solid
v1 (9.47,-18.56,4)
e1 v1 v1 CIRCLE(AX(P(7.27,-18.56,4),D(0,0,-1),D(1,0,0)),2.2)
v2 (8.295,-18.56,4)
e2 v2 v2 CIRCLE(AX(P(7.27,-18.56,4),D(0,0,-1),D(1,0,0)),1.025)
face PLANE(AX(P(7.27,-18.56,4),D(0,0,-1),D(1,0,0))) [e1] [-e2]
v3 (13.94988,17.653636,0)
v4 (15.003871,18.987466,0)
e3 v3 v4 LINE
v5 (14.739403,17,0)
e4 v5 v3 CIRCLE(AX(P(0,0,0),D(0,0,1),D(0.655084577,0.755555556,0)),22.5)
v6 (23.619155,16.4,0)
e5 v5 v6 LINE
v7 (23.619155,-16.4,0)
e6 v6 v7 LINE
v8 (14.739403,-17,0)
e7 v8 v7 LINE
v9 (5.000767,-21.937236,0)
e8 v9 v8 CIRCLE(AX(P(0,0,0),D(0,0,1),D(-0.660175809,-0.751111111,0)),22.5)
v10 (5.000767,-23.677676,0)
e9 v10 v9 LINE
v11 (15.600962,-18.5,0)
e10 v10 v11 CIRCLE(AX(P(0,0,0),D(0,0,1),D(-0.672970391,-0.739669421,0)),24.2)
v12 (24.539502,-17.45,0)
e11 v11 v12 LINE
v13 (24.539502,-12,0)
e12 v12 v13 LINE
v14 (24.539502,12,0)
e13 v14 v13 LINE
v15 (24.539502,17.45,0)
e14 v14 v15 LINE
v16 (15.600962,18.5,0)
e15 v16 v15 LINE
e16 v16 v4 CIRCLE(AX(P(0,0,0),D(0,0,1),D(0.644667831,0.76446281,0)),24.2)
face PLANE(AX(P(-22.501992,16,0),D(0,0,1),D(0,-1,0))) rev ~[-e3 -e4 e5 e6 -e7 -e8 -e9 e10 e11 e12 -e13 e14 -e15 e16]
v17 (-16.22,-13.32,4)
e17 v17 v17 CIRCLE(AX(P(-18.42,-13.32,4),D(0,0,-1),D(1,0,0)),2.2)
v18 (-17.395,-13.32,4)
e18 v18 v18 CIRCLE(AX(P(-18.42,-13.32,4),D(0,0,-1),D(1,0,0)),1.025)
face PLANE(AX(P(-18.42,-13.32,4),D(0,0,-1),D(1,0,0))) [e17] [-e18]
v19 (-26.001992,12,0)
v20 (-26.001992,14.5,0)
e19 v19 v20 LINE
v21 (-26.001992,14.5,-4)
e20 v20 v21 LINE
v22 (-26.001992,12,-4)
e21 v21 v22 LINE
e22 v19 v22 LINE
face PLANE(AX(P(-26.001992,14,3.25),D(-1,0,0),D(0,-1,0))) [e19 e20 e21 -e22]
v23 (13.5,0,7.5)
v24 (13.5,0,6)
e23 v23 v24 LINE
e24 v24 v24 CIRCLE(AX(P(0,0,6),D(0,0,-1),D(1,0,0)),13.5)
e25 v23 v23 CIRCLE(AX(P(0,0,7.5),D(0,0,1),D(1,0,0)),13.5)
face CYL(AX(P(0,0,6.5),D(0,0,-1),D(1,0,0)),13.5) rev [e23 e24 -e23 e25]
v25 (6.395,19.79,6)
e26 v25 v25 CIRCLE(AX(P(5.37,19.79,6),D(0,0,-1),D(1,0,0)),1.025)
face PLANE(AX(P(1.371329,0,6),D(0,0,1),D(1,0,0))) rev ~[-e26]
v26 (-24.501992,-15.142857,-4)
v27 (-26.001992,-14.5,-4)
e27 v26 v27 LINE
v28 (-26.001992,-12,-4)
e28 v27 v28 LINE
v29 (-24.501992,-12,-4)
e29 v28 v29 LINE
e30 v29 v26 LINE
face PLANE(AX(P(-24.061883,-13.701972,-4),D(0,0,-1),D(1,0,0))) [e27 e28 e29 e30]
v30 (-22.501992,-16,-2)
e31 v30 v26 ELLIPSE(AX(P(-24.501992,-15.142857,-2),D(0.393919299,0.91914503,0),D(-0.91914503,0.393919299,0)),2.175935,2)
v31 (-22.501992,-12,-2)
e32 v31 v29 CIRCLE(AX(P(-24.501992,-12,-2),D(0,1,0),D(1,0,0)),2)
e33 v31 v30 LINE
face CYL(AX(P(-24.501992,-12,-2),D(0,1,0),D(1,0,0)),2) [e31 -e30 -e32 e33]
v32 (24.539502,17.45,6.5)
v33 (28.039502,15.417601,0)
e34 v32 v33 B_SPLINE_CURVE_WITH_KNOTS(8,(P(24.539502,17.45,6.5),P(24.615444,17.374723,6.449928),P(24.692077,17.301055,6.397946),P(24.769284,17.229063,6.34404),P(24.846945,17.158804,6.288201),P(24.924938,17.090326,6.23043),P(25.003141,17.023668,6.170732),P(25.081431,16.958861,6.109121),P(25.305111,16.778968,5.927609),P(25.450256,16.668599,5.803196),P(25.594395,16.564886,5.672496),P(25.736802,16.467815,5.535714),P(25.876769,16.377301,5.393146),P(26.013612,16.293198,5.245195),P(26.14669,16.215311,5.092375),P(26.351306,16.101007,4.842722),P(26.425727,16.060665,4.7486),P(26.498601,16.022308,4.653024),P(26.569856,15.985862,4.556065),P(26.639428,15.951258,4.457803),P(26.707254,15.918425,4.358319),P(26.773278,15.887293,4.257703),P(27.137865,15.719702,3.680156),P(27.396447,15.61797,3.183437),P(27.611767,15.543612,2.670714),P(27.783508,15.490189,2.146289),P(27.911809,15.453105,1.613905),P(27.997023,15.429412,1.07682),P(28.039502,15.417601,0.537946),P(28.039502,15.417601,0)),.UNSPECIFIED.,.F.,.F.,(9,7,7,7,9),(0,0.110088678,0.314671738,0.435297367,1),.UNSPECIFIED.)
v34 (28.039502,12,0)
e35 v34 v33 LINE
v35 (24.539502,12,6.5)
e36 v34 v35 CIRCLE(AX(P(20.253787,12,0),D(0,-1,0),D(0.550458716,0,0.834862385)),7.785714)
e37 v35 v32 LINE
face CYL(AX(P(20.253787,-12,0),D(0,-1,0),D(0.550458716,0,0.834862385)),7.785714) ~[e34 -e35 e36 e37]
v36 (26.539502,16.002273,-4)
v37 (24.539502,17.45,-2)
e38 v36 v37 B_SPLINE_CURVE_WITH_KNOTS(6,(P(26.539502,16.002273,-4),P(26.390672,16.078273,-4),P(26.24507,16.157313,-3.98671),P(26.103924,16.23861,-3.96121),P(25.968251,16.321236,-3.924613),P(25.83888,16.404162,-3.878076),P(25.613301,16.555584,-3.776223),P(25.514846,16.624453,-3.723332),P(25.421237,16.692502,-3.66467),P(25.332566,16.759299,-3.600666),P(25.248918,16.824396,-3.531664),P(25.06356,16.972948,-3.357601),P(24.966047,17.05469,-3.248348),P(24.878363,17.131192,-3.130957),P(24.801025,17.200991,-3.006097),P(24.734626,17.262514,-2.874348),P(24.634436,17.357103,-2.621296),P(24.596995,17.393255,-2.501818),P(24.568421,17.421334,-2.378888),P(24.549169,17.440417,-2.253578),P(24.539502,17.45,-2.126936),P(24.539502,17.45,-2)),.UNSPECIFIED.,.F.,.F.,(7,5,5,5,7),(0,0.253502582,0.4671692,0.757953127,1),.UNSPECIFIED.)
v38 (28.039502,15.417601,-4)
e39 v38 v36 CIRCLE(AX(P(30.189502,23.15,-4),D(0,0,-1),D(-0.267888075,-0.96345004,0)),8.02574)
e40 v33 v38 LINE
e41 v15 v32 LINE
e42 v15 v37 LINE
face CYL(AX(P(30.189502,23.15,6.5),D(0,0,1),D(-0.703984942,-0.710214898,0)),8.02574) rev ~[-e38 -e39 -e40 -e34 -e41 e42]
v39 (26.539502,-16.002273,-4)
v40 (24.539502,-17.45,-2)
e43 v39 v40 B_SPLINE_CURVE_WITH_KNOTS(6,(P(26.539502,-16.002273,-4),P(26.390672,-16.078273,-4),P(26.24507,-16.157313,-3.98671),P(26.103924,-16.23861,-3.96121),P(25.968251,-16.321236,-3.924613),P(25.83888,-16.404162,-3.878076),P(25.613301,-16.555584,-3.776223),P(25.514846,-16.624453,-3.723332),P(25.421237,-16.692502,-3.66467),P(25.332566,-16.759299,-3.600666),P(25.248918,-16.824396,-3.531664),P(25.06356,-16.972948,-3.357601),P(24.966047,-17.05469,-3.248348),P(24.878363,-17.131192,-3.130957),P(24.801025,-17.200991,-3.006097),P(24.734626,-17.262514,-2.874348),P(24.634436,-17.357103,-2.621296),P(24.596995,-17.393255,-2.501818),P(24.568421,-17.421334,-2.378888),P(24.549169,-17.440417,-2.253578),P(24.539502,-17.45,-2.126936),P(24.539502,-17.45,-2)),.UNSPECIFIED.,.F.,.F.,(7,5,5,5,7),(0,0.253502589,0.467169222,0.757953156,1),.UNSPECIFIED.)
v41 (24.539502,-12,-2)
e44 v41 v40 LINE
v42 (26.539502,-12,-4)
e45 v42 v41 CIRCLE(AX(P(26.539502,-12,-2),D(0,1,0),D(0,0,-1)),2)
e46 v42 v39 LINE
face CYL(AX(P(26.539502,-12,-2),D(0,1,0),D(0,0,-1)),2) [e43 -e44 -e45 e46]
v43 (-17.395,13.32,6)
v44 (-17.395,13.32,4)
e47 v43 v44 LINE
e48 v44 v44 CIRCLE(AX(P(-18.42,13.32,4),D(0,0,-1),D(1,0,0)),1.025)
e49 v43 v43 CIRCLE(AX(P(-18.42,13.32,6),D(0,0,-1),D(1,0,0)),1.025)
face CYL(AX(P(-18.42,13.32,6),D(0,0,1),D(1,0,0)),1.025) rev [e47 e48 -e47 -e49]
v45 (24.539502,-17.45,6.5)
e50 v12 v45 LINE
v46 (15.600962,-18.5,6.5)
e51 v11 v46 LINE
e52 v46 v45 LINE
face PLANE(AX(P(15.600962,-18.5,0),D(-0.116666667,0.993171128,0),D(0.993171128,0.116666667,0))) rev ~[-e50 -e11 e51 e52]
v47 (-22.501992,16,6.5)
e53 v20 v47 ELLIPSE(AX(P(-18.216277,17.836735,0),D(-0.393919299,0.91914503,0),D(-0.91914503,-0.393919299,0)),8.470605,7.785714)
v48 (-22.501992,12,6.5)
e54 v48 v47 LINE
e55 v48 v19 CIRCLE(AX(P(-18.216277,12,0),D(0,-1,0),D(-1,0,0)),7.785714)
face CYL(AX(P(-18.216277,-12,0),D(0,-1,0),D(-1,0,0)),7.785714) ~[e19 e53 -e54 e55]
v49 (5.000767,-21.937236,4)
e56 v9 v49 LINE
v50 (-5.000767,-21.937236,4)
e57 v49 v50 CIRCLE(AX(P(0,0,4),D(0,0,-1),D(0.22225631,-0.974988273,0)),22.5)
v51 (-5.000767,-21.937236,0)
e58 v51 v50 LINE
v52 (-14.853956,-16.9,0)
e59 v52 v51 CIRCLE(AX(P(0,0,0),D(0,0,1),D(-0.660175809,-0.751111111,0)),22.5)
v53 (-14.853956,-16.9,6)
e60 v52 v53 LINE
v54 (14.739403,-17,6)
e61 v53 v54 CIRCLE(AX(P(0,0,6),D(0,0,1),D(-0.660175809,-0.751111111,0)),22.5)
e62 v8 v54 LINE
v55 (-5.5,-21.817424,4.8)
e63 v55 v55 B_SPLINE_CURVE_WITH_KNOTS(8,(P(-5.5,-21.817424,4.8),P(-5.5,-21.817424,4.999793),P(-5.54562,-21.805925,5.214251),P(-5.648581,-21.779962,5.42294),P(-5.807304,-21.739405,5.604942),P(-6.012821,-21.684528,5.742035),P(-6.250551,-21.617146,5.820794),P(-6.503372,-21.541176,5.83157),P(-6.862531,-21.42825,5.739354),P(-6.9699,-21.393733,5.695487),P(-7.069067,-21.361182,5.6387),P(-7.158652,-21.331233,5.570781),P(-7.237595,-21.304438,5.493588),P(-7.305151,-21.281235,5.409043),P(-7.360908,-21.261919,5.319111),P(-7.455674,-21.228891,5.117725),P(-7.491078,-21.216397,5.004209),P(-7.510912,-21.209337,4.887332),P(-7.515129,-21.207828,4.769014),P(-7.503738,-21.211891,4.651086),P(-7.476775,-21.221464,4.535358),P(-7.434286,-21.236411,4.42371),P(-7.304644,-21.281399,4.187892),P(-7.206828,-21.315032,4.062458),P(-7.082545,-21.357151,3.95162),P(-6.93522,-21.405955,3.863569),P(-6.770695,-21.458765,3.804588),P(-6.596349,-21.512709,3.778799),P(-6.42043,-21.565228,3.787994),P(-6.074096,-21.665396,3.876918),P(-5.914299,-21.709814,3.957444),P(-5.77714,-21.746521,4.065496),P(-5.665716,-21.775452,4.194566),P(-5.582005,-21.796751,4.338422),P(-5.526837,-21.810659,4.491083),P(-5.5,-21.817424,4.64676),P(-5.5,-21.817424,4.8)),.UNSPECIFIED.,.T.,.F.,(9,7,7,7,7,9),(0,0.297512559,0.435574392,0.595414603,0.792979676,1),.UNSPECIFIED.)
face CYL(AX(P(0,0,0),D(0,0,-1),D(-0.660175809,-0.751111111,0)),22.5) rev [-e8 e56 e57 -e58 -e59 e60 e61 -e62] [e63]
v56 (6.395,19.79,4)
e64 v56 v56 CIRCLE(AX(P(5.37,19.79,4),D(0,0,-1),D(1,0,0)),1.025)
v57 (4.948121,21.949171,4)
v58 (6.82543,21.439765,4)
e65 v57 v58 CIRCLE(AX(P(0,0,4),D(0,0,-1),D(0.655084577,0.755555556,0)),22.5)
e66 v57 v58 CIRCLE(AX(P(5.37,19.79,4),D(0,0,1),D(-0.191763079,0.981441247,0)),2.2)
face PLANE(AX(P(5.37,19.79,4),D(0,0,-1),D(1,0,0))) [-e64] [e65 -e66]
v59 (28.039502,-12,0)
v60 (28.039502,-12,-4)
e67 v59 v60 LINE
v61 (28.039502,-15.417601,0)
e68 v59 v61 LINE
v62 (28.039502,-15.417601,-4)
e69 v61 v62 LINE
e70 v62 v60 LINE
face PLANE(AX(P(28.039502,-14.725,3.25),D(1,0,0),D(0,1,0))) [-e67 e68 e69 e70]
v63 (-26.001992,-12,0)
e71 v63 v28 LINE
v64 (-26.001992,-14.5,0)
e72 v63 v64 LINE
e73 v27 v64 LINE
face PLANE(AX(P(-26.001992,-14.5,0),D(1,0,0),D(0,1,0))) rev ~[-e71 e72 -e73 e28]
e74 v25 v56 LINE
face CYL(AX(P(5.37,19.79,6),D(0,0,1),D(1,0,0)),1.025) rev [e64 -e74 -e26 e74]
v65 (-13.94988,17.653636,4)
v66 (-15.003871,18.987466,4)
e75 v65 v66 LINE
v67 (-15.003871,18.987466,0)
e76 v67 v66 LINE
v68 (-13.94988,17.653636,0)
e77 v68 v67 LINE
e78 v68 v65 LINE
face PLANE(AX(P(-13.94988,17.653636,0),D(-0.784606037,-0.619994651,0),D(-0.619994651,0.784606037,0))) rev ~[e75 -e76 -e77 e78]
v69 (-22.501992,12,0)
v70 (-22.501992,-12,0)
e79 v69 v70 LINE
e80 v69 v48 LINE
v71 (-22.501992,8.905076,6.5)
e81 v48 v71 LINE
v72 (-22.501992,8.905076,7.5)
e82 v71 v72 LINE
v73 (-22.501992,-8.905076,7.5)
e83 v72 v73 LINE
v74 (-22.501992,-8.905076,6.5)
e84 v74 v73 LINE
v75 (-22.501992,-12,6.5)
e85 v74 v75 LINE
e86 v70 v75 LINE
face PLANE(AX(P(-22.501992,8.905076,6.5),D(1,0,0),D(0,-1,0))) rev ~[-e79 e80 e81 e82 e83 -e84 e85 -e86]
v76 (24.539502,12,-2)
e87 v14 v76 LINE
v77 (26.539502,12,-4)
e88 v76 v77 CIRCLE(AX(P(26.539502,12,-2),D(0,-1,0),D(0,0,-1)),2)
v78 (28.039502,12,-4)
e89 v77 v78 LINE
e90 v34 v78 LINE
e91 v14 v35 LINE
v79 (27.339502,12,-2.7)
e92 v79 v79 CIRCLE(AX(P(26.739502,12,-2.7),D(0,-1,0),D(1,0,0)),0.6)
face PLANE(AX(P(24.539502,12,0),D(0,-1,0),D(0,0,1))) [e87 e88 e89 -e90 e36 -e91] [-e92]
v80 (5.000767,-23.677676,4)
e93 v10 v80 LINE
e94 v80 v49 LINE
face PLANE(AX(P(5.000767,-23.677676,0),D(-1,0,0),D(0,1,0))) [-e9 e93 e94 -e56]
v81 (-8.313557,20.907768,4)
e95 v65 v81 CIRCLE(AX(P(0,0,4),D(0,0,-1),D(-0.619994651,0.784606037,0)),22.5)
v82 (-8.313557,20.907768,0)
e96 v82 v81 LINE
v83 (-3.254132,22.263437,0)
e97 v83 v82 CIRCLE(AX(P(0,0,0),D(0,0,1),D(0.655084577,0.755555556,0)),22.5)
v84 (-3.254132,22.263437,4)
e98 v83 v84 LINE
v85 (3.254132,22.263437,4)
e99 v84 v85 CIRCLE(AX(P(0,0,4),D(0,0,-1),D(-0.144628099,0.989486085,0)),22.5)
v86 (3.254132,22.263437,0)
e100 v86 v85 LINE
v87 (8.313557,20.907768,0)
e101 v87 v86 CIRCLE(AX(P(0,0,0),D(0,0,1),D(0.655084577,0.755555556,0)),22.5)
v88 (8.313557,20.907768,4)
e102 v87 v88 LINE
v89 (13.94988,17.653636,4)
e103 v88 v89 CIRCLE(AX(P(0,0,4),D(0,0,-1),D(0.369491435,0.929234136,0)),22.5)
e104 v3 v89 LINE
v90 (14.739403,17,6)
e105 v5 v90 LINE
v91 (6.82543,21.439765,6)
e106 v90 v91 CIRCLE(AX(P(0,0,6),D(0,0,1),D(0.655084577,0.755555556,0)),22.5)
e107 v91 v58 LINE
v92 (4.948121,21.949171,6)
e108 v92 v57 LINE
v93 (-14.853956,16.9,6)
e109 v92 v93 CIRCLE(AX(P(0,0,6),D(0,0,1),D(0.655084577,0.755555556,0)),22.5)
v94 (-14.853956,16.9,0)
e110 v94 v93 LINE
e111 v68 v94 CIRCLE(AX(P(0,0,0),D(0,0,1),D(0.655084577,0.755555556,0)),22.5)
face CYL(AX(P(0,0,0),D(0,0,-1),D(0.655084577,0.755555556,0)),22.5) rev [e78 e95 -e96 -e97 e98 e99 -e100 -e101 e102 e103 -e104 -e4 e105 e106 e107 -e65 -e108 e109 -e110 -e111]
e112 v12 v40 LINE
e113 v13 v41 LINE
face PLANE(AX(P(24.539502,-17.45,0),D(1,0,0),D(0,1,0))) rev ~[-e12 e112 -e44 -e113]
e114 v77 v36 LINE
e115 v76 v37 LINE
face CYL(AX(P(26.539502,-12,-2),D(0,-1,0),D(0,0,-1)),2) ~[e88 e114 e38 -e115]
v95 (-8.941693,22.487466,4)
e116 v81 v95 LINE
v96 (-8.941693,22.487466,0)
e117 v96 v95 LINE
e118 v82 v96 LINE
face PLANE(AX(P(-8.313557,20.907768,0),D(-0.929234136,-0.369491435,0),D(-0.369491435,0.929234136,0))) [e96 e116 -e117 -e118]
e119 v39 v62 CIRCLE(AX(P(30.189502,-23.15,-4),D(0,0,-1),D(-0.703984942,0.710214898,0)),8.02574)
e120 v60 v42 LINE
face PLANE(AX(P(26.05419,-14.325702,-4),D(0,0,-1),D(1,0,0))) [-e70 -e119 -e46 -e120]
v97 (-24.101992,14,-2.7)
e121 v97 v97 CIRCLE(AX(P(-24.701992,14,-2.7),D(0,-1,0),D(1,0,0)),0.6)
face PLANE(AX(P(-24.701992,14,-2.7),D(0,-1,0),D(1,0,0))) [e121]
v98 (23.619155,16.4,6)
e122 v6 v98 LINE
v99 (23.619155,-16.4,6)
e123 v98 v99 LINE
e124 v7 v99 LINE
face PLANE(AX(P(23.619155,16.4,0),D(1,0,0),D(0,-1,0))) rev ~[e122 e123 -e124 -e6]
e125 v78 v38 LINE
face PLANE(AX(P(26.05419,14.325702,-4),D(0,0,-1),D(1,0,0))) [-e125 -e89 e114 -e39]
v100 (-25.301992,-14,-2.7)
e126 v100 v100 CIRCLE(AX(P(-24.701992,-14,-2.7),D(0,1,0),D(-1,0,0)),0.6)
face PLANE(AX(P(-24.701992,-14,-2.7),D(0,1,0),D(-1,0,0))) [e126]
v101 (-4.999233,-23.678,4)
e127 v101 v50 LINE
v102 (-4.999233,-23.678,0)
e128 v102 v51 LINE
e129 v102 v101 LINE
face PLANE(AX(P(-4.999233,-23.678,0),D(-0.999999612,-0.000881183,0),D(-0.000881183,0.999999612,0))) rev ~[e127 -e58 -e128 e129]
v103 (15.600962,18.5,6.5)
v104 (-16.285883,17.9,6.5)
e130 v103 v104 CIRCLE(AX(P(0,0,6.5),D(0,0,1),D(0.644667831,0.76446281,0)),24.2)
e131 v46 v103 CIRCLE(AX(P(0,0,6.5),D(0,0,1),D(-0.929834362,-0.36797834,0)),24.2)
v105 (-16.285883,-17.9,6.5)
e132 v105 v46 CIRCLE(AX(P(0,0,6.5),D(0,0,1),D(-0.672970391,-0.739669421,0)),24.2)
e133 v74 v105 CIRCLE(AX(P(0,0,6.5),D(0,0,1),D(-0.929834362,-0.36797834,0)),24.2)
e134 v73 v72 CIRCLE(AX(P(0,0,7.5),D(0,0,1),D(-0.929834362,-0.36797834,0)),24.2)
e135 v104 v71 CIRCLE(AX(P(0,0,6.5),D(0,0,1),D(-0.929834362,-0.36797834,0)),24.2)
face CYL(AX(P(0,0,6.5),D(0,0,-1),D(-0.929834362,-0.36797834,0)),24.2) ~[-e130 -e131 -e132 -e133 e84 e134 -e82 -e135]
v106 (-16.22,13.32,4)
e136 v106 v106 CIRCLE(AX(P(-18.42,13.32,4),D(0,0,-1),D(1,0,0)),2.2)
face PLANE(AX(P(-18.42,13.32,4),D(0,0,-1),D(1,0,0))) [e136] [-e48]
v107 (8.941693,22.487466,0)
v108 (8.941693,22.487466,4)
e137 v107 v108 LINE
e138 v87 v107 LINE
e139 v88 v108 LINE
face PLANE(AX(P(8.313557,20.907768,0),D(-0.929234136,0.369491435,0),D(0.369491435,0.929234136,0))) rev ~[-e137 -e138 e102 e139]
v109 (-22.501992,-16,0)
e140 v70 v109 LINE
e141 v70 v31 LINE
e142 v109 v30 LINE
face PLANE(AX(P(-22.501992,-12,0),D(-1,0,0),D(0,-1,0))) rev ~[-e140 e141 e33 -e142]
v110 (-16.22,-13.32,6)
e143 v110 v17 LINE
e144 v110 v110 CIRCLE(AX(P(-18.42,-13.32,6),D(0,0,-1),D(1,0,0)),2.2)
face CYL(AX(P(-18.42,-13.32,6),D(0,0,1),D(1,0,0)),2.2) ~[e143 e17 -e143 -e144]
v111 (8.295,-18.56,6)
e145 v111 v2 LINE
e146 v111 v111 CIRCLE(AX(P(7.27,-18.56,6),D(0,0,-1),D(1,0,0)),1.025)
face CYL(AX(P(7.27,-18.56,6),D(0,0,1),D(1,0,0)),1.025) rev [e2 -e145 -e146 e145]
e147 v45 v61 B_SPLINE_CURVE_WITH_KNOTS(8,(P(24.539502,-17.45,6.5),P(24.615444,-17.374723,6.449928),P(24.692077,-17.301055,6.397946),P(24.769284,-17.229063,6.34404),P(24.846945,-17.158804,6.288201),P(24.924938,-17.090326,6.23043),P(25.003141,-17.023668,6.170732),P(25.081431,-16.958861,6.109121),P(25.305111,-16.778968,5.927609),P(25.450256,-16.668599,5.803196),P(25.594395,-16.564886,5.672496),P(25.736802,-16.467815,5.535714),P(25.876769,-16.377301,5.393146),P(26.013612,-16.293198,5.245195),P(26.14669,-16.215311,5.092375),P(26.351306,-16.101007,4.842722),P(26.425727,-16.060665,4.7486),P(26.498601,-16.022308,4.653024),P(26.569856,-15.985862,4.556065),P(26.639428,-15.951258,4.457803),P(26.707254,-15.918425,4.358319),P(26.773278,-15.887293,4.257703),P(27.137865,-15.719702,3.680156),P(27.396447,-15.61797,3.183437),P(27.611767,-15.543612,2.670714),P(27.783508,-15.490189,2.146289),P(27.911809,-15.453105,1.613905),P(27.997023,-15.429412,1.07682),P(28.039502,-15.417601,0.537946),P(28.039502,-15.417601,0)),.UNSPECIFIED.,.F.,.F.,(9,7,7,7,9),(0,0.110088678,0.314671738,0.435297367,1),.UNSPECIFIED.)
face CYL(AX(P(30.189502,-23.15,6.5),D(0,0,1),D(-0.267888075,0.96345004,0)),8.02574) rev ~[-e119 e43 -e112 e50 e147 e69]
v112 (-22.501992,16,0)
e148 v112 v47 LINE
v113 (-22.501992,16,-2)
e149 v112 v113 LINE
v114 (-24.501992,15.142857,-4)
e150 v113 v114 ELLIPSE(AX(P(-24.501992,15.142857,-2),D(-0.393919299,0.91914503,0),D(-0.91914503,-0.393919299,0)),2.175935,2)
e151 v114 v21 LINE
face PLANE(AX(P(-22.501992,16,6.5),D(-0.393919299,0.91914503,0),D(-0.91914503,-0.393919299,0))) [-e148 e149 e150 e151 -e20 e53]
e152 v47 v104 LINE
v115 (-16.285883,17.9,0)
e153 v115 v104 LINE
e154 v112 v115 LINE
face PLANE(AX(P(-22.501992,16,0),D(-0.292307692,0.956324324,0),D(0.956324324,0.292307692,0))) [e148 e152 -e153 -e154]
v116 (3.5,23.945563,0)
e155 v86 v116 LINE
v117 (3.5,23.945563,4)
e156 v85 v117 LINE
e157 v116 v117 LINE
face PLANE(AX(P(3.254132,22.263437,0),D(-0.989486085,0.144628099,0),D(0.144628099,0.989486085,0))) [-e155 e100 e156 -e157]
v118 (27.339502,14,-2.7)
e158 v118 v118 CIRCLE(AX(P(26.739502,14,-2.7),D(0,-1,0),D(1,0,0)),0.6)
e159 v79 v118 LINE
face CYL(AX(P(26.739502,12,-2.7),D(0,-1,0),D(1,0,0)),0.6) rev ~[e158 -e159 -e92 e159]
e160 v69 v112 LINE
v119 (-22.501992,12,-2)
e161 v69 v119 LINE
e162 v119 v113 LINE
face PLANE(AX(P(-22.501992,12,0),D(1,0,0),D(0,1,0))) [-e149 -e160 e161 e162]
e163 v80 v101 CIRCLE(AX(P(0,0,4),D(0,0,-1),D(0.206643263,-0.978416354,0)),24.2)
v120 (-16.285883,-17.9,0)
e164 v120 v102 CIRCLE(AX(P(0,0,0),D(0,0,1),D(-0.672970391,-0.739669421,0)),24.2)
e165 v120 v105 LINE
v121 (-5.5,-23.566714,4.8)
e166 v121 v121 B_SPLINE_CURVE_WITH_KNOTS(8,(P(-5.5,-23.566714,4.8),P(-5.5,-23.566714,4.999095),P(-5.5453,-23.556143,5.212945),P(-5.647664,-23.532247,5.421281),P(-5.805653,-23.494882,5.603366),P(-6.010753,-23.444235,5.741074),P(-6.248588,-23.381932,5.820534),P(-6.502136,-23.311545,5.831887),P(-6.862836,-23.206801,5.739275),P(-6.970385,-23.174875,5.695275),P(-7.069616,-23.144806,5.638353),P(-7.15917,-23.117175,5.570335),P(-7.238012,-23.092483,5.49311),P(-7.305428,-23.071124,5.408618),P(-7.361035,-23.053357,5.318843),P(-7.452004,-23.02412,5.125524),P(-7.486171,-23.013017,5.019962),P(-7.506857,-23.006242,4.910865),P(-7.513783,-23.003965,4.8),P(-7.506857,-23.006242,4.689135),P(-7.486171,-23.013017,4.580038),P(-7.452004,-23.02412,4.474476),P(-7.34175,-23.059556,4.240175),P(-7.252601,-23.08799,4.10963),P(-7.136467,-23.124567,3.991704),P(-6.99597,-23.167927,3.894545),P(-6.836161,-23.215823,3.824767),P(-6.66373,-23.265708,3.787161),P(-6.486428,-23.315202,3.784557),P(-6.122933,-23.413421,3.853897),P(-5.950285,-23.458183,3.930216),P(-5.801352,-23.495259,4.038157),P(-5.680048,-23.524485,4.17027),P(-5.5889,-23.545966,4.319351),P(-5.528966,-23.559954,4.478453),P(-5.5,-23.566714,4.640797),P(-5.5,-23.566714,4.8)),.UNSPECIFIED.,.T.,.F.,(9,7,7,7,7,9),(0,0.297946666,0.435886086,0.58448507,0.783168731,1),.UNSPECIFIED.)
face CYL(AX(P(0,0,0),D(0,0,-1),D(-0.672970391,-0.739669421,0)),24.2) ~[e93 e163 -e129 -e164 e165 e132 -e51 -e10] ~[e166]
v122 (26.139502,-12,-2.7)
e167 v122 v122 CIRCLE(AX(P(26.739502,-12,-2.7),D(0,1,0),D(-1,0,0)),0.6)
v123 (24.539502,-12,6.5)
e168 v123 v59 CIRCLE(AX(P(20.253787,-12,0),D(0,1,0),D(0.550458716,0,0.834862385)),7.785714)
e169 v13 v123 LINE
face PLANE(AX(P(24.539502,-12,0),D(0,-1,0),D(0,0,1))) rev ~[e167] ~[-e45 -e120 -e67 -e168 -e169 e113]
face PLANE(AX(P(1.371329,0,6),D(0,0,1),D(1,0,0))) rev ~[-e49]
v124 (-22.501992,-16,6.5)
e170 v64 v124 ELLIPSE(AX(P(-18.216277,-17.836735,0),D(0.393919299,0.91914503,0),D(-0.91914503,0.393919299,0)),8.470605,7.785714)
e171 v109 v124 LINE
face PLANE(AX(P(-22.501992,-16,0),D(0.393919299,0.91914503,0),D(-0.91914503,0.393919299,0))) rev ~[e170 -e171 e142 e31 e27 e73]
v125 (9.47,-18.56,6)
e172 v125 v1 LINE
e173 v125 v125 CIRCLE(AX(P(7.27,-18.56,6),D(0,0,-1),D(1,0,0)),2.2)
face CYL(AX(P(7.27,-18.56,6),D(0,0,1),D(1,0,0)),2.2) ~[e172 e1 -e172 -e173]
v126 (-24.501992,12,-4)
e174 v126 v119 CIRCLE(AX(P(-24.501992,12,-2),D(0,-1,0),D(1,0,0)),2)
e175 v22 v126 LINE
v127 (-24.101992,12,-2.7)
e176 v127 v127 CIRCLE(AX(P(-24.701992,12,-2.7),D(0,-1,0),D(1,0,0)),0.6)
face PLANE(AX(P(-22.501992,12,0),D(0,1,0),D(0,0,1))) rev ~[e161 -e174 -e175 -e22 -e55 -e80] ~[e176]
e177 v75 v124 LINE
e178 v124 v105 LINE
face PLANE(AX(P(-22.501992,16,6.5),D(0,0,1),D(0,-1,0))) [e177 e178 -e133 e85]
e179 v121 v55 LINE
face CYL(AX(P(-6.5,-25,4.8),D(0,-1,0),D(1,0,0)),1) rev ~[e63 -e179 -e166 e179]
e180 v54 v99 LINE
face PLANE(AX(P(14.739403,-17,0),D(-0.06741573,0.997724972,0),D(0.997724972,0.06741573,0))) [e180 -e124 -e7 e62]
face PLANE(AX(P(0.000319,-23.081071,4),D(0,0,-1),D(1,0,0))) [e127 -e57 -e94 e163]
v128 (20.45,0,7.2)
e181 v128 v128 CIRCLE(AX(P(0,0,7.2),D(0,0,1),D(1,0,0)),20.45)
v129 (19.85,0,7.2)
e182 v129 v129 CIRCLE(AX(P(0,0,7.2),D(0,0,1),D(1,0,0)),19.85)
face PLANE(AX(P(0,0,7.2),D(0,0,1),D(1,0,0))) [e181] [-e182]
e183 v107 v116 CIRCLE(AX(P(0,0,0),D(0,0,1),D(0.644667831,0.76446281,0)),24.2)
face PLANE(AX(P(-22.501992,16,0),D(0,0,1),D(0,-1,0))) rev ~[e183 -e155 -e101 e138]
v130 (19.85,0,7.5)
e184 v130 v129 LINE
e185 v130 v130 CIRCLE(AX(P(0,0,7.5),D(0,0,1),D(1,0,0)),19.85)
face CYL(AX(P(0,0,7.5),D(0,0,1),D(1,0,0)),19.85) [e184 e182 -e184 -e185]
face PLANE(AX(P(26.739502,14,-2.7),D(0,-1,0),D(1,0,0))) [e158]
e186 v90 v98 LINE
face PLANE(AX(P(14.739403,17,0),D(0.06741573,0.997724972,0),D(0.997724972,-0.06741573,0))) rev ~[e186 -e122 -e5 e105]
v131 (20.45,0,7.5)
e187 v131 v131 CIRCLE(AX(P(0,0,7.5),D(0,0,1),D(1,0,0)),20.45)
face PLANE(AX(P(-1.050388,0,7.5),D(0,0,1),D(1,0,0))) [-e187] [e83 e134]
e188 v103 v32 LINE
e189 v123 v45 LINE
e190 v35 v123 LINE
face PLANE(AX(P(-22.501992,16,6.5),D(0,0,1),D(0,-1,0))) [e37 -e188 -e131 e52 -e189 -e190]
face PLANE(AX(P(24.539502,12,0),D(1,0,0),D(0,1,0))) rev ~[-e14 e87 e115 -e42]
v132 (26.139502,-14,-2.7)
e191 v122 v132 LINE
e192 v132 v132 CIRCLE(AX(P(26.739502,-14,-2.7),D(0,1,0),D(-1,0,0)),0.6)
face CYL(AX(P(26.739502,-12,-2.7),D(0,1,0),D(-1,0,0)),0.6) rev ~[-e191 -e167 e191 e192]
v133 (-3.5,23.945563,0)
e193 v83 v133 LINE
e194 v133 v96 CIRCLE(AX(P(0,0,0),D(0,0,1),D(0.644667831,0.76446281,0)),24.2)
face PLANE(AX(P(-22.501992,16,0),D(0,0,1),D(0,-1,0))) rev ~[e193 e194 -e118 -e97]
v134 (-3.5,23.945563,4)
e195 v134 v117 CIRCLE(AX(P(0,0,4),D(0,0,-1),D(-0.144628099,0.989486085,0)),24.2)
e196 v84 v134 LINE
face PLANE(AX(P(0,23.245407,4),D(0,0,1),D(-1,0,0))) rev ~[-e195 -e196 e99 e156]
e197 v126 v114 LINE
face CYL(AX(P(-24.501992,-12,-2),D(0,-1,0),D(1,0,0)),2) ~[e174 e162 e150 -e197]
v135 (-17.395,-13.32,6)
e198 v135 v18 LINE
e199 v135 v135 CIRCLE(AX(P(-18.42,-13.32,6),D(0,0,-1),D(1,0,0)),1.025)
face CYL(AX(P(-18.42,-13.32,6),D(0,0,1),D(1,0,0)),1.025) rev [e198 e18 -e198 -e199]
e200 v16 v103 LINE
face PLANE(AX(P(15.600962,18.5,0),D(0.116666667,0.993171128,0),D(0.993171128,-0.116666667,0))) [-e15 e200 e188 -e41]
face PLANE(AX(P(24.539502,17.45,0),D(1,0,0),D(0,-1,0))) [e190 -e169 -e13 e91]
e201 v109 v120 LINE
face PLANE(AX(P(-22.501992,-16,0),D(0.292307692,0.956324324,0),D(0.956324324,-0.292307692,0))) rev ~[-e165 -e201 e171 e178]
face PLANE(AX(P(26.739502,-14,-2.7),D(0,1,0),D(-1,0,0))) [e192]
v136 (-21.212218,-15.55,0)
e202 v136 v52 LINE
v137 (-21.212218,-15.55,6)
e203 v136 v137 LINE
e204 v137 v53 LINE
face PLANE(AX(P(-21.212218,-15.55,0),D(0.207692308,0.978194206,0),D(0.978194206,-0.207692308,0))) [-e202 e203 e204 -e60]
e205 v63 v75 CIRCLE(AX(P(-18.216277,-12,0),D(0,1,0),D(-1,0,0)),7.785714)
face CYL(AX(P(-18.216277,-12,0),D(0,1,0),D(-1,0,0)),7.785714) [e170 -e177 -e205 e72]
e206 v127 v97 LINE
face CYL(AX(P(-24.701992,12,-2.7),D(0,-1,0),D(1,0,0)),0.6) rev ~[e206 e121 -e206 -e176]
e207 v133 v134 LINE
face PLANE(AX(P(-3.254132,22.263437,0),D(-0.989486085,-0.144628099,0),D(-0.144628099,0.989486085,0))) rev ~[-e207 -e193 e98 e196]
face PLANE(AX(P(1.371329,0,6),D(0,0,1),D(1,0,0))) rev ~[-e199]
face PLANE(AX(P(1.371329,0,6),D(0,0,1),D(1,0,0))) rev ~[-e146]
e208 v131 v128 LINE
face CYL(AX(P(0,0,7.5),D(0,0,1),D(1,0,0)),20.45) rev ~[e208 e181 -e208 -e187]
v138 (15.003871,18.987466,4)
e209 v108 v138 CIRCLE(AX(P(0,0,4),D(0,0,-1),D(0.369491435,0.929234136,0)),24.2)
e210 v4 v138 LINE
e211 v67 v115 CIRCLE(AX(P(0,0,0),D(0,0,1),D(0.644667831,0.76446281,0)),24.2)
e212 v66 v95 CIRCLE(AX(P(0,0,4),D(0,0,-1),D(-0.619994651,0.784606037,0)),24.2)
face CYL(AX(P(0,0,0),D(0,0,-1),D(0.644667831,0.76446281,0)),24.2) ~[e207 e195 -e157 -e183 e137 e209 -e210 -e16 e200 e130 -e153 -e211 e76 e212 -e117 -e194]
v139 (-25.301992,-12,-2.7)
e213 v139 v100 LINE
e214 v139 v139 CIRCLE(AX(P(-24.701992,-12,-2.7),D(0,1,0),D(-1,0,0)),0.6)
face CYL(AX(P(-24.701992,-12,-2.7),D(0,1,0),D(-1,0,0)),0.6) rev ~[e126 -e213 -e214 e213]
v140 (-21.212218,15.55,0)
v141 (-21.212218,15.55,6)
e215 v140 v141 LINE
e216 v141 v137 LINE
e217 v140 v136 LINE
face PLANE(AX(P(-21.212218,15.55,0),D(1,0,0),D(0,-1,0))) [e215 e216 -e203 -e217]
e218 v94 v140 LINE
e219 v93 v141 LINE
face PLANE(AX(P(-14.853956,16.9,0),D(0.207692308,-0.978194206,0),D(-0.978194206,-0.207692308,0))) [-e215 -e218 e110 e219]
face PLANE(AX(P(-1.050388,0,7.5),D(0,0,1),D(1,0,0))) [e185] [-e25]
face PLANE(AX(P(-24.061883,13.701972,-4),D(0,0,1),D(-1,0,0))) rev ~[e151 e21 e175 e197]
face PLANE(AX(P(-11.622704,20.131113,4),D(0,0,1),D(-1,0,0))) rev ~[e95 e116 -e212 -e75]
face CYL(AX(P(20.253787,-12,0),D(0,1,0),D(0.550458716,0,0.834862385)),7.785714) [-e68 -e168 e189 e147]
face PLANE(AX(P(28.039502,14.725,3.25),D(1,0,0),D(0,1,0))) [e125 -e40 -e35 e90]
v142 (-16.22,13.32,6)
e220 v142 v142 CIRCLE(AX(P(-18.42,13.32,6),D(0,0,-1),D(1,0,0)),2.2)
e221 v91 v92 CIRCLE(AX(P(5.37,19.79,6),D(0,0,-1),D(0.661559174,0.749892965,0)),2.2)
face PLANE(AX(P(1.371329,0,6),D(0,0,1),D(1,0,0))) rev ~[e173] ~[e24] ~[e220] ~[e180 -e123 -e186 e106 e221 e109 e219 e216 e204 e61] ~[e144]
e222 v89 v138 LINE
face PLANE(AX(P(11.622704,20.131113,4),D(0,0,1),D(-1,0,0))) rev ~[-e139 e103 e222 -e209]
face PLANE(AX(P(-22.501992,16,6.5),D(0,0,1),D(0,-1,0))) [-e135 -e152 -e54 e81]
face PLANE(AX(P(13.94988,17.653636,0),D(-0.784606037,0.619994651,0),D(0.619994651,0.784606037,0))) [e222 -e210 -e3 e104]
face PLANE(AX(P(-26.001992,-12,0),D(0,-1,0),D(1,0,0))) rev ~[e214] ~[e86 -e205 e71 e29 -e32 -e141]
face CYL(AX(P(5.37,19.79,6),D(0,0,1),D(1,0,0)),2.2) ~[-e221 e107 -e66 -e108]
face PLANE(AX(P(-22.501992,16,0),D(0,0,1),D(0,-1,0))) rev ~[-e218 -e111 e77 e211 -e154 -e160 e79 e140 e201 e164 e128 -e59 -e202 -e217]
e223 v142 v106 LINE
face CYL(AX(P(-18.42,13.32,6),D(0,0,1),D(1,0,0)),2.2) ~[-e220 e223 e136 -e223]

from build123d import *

# Parameters (mm, degrees)
PAD_DEPTH            = 6.5
POCKET_DEPTH         = 6
SKETCH002_R          = 13.5
POCKET001_DEPTH      = 1
SKETCH003_W          = 5.45
SKETCH003_H          = 6.5
PAD001_DEPTH         = 3.5
POCKET002_DEPTH      = 10
SKETCH010_W          = 4
SKETCH010_H          = 6.5
PAD002_DEPTH         = 3.5
POCKET005_DEPTH      = 10
SKETCH015_R          = 2.2
SKETCH015_R_2        = 1.025
PAD003_DEPTH         = 2
POCKET009_DEPTH      = 4
POCKET010_DEPTH      = 4
PAD004_DEPTH         = 4
POCKET013_DEPTH      = 12.201
POCKET013_DEPTH_BACK = 36.201
SKETCH022_R          = 0.6
POCKET014_DEPTH      = 2
SKETCH023_R          = 0.6
POCKET015_DEPTH      = 2
SKETCH024_R          = 13.5
PAD005_DEPTH         = 1
SKETCH025_R          = 20.45
SKETCH025_R_2        = 19.85
POCKET016_DEPTH      = 0.3
SKETCH026_R          = 1
POCKET017_DEPTH      = 5


with BuildPart() as part:
    # Sketch → Pad (new body)
    with BuildSketch(Plane.XY):
        with BuildLine():
            Line((-22.5019915649, 16), (-22.5019915649, -16))
            Line((-22.5019915649, -16), (-16.2858834578, -17.9))
            ThreePointArc((-16.2858834578, -17.9), (-0.4552796053, -24.1957169863), (15.6009615088, -18.5))
            Line((15.6009615088, -18.5), (24.5395016581, -17.45))
            Line((24.5395016581, 17.45), (24.5395016581, -17.45))
            Line((15.6009615088, 18.5), (24.5395016581, 17.45))
            ThreePointArc((15.6009615088, 18.5), (-0.4552796053, 24.1957169863), (-16.2858834578, 17.9))
            Line((-22.5019915649, 16), (-16.2858834578, 17.9))
        make_face()
    extrude(amount=PAD_DEPTH)

    # Sketch001 → Pocket (cut)
    with BuildSketch(Plane.XY):
        with BuildLine():
            Line((-14.8539557021, 16.9), (-21.2122180433, 15.55))
            Line((-21.2122180433, 15.55), (-21.2122180433, -15.55))
            Line((-21.2122180433, -15.55), (-14.8539557021, -16.9))
            ThreePointArc((-14.8539557021, -16.9), (-0.0760301383, -22.4998715423), (14.739402973, -17))
            Line((14.739402973, -17), (23.6191552218, -16.4))
            Line((23.6191552218, 16.4), (23.6191552218, -16.4))
            Line((14.739402973, 17), (23.6191552218, 16.4))
            ThreePointArc((14.739402973, 17), (-0.0760301383, 22.4998715423), (-14.8539557021, 16.9))
        make_face()
    extrude(amount=POCKET_DEPTH, mode=Mode.SUBTRACT)

    # Sketch002 (on Face19 of Pocket) → Pocket001 (cut)
    with BuildSketch(Plane(origin=(0, 0, 6), x_dir=(1, 0, 0), z_dir=(0, 0, -1))):
        Circle(SKETCH002_R)
    extrude(amount=-POCKET001_DEPTH, mode=Mode.SUBTRACT)

    # Sketch003 (on Face7 of Pad) → Pad001 (join)
    with BuildSketch(Plane.YZ.offset(24.5395016581)):
        with Locations((-14.725, 3.25)):
            Rectangle(SKETCH003_W, SKETCH003_H)
        with Locations((14.725, 3.25)):
            Rectangle(SKETCH003_W, SKETCH003_H)
    extrude(amount=PAD001_DEPTH)

    # Sketch006 (on Face22 of Pad001) → Pocket002 (cut)
    with BuildSketch(Plane.XY.offset(6.5)):
        with BuildLine():
            ThreePointArc((24.5395016581, 17.45), (26.1592830786, 16.2095505764), (28.0395016581, 15.4176006311))
            Line((28.0395016581, 17.45), (28.0395016581, 15.4176006311))
            Line((28.0395016581, 17.45), (24.5395016581, 17.45))
        make_face()
        with BuildLine():
            ThreePointArc((28.0395016581, -15.4176006311), (26.1592830786, -16.2095505765), (24.5395016581, -17.4500000001))
            Line((28.0395016581, -17.45), (24.5395016581, -17.4500000001))
            Line((28.0395016581, -15.4176006311), (28.0395016581, -17.45))
        make_face()
    extrude(amount=-POCKET002_DEPTH, mode=Mode.SUBTRACT)

    # Sketch010 (on Face3 of Pad) → Pad002 (join)
    with BuildSketch(Plane(origin=(-22.5019915649, 0, 0), x_dir=(0, -1, 0), z_dir=(-1, 0, 0))):
        with Locations((-14, 3.25)):
            Rectangle(SKETCH010_W, SKETCH010_H)
        with Locations((14, 3.25)):
            Rectangle(SKETCH010_W, SKETCH010_H)
    extrude(amount=PAD002_DEPTH)

    # Sketch011 (on Face28 of Pad002) → Pocket005 (cut)
    with BuildSketch(Plane.XY.offset(6.5)):
        Polygon((-26.0019915649, 16), (-22.5019915649, 16), (-26.0019915649, 14.5), align=None)
        Polygon((-22.5019915649, -16), (-26.0019915649, -14.5), (-26.0019915649, -16), align=None)
    extrude(amount=-POCKET005_DEPTH, mode=Mode.SUBTRACT)

    # Sketch015 (on Face19 of Pocket) → Pad003 (join)
    with BuildSketch(Plane(origin=(0, 0, 6), x_dir=(1, 0, 0), z_dir=(0, 0, -1))):
        with Locations((-18.42, 13.32)):
            Circle(SKETCH015_R)
        with Locations((-18.42, 13.32)):
            Circle(SKETCH015_R_2, mode=Mode.SUBTRACT)
        with Locations((7.27, 18.56)):
            Circle(SKETCH015_R)
        with Locations((7.27, 18.56)):
            Circle(SKETCH015_R_2, mode=Mode.SUBTRACT)
        with Locations((5.37, -19.79)):
            Circle(SKETCH015_R)
        with Locations((5.37, -19.79)):
            Circle(SKETCH015_R_2, mode=Mode.SUBTRACT)
        with Locations((-18.42, -13.32)):
            Circle(SKETCH015_R)
        with Locations((-18.42, -13.32)):
            Circle(SKETCH015_R_2, mode=Mode.SUBTRACT)
    extrude(amount=PAD003_DEPTH)

    # Sketch016 (on Face4 of Pocket) → Pocket009 (cut)
    with BuildSketch(Plane(origin=(0, 0, 0), x_dir=(1, 0, 0), z_dir=(0, 0, -1))):
        with BuildLine():
            Line((-4.9992330338, 23.6779996848), (-5.0007669662, 21.9372361465))
            ThreePointArc((5.0007669662, 21.9372361465), (0, 22.5), (-5.0007669662, 21.9372361465))
            Line((5.0007669662, 23.6776757675), (5.0007669662, 21.9372361465))
            ThreePointArc((5.0007669662, 23.6776757675), (0.00078388, 24.1999999873), (-4.9992330338, 23.6779996848))
        make_face()
    extrude(amount=-POCKET009_DEPTH, mode=Mode.SUBTRACT)

    # Sketch017 (on Face4 of Pocket) → Pocket010 (cut)
    with BuildSketch(Plane(origin=(0, 0, 0), x_dir=(1, 0, 0), z_dir=(0, 0, -1))):
        with BuildLine():
            ThreePointArc((-3.2541322314, -22.2634369184), (0, -22.5), (3.2541322314, -22.2634369184))
            Line((3.2541322314, -22.2634369184), (3.5, -23.9455632634))
            ThreePointArc((-3.5, -23.9455632634), (0, -24.2), (3.5, -23.9455632634))
            Line((-3.2541322314, -22.2634369184), (-3.5, -23.9455632634))
        make_face()
        with BuildLine():
            ThreePointArc((-13.9498796389, -17.6536358312), (-11.25, -19.4855715851), (-8.3135572795, -20.9077680626))
            Line((-8.3135572795, -20.9077680626), (-8.9416927184, -22.487466094))
            ThreePointArc((-15.0038705449, -18.987466094), (-12.1, -20.9578147716), (-8.9416927184, -22.487466094))
            Line((-13.9498796389, -17.6536358312), (-15.0038705449, -18.987466094))
        make_face()
        with BuildLine():
            ThreePointArc((8.3135572795, -20.9077680626), (11.25, -19.4855715851), (13.9498796389, -17.6536358312))
            Line((13.9498796389, -17.6536358312), (15.0038705449, -18.987466094))
            ThreePointArc((8.9416927184, -22.487466094), (12.1, -20.9578147716), (15.0038705449, -18.987466094))
            Line((8.3135572795, -20.9077680626), (8.9416927184, -22.487466094))
        make_face()
    extrude(amount=-POCKET010_DEPTH, mode=Mode.SUBTRACT)

    # Sketch018 (on Face8 of Pocket005) → Pad004 (join)
    with BuildSketch(Plane(origin=(0, 0, 0), x_dir=(1, 0, 0), z_dir=(0, 0, -1))):
        Polygon((-26.0019915649, 14.5), (-26.0019915649, 12), (-22.5019915649, 12), (-22.5019915649, 16), align=None)
        Polygon((-26.0019915649, -12), (-22.5019915649, -12), (-22.5019915649, -16), (-26.0019915649, -14.5), align=None)
        with BuildLine():
            Line((24.5395016581, 17.4500000001), (24.5395016581, 12))
            Line((28.0395016581, 12), (24.5395016581, 12))
            Line((28.0395016581, 15.4176006311), (28.0395016581, 12))
            ThreePointArc((24.5395016581, 17.4500000001), (26.1592830786, 16.2095505765), (28.0395016581, 15.4176006311))
        make_face()
        with BuildLine():
            Line((24.5395016581, -12), (24.5395016581, -17.45))
            ThreePointArc((28.0395016581, -15.4176006311), (26.1592830786, -16.2095505764), (24.5395016581, -17.45))
            Line((28.0395016581, -12), (28.0395016581, -15.4176006311))
            Line((24.5395016581, -12), (28.0395016581, -12))
        make_face()
    extrude(amount=PAD004_DEPTH)

    # Sketch021 (on Face50 of Pad004) → Pocket013 (cut, two sides)
    with BuildSketch(Plane(origin=(0, -12, 0), x_dir=(-1, 0, 0), z_dir=(0, 1, 0))) as pocket013_sk:
        with BuildLine():
            Line((-24.5395016581, -4), (-24.5395016581, -2))
            ThreePointArc((-26.5395016581, -4), (-25.1252880957, -3.4142135624), (-24.5395016581, -2))
            Line((-24.5395016581, -4), (-26.5395016581, -4))
        make_face()
        with BuildLine():
            Line((22.5019915649, -4), (22.5019915649, -2))
            ThreePointArc((22.5019915649, -2), (23.0877780026, -3.4142135624), (24.5019915649, -4))
            Line((22.5019915649, -4), (24.5019915649, -4))
        make_face()
        with BuildLine():
            Line((-28.0395016581, 0), (-28.0395016581, 6.5))
            Line((-28.0395016581, 6.5), (-24.5395016581, 6.5))
            ThreePointArc((-24.5395016581, 6.5), (-27.1088837932, 3.6912057651), (-28.0395016581, 0))
        make_face()
        with BuildLine():
            Line((26.0019915649, 6.5), (26.0019915649, 0))
            ThreePointArc((26.0019915649, 0), (25.0713737, 3.6912057651), (22.5019915649, 6.5))
            Line((26.0019915649, 6.5), (22.5019915649, 6.5))
        make_face()
    extrude(amount=-POCKET013_DEPTH, mode=Mode.SUBTRACT)
    extrude(pocket013_sk.sketch, amount=POCKET013_DEPTH_BACK, mode=Mode.SUBTRACT)

    # Sketch022 (on Face66 of Pocket013) → Pocket014 (cut)
    with BuildSketch(Plane.XZ.offset(-12)):
        with Locations((-24.7019915649, -2.7)):
            Circle(SKETCH022_R)
        with Locations((26.7395016581, -2.7)):
            Circle(SKETCH022_R)
    extrude(amount=-POCKET014_DEPTH, mode=Mode.SUBTRACT)

    # Sketch023 (on Face49 of Pocket014) → Pocket015 (cut)
    with BuildSketch(Plane(origin=(0, -12, 0), x_dir=(-1, 0, 0), z_dir=(0, 1, 0))):
        with Locations((-26.7395016581, -2.7)):
            Circle(SKETCH023_R)
        with Locations((24.7019915649, -2.7)):
            Circle(SKETCH023_R)
    extrude(amount=-POCKET015_DEPTH, mode=Mode.SUBTRACT)

    # Sketch024 (on Face16 of Pocket015) → Pad005 (join)
    with BuildSketch(Plane.XY.offset(6.5)):
        with BuildLine():
            ThreePointArc((-22.5019915649, -8.9050758341), (24.2, 0), (-22.5019915649, 8.9050758341))
            Line((-22.5019915649, 8.9050758341), (-22.5019915649, -8.9050758341))
        make_face()
        Circle(SKETCH024_R, mode=Mode.SUBTRACT)
    extrude(amount=PAD005_DEPTH)

    # Sketch025 (on Face42 of Pad005) → Pocket016 (cut)
    with BuildSketch(Plane.XY.offset(7.5)):
        Circle(SKETCH025_R)
        Circle(SKETCH025_R_2, mode=Mode.SUBTRACT)
    extrude(amount=-POCKET016_DEPTH, mode=Mode.SUBTRACT)

    # Sketch026 (on DatumPlane) → Pocket017 (cut)
    with BuildSketch(Plane.XZ.offset(25)):
        with Locations((-6.5, 4.8)):
            Circle(SKETCH026_R)
    extrude(amount=-POCKET017_DEPTH, mode=Mode.SUBTRACT)


solid = part.part
